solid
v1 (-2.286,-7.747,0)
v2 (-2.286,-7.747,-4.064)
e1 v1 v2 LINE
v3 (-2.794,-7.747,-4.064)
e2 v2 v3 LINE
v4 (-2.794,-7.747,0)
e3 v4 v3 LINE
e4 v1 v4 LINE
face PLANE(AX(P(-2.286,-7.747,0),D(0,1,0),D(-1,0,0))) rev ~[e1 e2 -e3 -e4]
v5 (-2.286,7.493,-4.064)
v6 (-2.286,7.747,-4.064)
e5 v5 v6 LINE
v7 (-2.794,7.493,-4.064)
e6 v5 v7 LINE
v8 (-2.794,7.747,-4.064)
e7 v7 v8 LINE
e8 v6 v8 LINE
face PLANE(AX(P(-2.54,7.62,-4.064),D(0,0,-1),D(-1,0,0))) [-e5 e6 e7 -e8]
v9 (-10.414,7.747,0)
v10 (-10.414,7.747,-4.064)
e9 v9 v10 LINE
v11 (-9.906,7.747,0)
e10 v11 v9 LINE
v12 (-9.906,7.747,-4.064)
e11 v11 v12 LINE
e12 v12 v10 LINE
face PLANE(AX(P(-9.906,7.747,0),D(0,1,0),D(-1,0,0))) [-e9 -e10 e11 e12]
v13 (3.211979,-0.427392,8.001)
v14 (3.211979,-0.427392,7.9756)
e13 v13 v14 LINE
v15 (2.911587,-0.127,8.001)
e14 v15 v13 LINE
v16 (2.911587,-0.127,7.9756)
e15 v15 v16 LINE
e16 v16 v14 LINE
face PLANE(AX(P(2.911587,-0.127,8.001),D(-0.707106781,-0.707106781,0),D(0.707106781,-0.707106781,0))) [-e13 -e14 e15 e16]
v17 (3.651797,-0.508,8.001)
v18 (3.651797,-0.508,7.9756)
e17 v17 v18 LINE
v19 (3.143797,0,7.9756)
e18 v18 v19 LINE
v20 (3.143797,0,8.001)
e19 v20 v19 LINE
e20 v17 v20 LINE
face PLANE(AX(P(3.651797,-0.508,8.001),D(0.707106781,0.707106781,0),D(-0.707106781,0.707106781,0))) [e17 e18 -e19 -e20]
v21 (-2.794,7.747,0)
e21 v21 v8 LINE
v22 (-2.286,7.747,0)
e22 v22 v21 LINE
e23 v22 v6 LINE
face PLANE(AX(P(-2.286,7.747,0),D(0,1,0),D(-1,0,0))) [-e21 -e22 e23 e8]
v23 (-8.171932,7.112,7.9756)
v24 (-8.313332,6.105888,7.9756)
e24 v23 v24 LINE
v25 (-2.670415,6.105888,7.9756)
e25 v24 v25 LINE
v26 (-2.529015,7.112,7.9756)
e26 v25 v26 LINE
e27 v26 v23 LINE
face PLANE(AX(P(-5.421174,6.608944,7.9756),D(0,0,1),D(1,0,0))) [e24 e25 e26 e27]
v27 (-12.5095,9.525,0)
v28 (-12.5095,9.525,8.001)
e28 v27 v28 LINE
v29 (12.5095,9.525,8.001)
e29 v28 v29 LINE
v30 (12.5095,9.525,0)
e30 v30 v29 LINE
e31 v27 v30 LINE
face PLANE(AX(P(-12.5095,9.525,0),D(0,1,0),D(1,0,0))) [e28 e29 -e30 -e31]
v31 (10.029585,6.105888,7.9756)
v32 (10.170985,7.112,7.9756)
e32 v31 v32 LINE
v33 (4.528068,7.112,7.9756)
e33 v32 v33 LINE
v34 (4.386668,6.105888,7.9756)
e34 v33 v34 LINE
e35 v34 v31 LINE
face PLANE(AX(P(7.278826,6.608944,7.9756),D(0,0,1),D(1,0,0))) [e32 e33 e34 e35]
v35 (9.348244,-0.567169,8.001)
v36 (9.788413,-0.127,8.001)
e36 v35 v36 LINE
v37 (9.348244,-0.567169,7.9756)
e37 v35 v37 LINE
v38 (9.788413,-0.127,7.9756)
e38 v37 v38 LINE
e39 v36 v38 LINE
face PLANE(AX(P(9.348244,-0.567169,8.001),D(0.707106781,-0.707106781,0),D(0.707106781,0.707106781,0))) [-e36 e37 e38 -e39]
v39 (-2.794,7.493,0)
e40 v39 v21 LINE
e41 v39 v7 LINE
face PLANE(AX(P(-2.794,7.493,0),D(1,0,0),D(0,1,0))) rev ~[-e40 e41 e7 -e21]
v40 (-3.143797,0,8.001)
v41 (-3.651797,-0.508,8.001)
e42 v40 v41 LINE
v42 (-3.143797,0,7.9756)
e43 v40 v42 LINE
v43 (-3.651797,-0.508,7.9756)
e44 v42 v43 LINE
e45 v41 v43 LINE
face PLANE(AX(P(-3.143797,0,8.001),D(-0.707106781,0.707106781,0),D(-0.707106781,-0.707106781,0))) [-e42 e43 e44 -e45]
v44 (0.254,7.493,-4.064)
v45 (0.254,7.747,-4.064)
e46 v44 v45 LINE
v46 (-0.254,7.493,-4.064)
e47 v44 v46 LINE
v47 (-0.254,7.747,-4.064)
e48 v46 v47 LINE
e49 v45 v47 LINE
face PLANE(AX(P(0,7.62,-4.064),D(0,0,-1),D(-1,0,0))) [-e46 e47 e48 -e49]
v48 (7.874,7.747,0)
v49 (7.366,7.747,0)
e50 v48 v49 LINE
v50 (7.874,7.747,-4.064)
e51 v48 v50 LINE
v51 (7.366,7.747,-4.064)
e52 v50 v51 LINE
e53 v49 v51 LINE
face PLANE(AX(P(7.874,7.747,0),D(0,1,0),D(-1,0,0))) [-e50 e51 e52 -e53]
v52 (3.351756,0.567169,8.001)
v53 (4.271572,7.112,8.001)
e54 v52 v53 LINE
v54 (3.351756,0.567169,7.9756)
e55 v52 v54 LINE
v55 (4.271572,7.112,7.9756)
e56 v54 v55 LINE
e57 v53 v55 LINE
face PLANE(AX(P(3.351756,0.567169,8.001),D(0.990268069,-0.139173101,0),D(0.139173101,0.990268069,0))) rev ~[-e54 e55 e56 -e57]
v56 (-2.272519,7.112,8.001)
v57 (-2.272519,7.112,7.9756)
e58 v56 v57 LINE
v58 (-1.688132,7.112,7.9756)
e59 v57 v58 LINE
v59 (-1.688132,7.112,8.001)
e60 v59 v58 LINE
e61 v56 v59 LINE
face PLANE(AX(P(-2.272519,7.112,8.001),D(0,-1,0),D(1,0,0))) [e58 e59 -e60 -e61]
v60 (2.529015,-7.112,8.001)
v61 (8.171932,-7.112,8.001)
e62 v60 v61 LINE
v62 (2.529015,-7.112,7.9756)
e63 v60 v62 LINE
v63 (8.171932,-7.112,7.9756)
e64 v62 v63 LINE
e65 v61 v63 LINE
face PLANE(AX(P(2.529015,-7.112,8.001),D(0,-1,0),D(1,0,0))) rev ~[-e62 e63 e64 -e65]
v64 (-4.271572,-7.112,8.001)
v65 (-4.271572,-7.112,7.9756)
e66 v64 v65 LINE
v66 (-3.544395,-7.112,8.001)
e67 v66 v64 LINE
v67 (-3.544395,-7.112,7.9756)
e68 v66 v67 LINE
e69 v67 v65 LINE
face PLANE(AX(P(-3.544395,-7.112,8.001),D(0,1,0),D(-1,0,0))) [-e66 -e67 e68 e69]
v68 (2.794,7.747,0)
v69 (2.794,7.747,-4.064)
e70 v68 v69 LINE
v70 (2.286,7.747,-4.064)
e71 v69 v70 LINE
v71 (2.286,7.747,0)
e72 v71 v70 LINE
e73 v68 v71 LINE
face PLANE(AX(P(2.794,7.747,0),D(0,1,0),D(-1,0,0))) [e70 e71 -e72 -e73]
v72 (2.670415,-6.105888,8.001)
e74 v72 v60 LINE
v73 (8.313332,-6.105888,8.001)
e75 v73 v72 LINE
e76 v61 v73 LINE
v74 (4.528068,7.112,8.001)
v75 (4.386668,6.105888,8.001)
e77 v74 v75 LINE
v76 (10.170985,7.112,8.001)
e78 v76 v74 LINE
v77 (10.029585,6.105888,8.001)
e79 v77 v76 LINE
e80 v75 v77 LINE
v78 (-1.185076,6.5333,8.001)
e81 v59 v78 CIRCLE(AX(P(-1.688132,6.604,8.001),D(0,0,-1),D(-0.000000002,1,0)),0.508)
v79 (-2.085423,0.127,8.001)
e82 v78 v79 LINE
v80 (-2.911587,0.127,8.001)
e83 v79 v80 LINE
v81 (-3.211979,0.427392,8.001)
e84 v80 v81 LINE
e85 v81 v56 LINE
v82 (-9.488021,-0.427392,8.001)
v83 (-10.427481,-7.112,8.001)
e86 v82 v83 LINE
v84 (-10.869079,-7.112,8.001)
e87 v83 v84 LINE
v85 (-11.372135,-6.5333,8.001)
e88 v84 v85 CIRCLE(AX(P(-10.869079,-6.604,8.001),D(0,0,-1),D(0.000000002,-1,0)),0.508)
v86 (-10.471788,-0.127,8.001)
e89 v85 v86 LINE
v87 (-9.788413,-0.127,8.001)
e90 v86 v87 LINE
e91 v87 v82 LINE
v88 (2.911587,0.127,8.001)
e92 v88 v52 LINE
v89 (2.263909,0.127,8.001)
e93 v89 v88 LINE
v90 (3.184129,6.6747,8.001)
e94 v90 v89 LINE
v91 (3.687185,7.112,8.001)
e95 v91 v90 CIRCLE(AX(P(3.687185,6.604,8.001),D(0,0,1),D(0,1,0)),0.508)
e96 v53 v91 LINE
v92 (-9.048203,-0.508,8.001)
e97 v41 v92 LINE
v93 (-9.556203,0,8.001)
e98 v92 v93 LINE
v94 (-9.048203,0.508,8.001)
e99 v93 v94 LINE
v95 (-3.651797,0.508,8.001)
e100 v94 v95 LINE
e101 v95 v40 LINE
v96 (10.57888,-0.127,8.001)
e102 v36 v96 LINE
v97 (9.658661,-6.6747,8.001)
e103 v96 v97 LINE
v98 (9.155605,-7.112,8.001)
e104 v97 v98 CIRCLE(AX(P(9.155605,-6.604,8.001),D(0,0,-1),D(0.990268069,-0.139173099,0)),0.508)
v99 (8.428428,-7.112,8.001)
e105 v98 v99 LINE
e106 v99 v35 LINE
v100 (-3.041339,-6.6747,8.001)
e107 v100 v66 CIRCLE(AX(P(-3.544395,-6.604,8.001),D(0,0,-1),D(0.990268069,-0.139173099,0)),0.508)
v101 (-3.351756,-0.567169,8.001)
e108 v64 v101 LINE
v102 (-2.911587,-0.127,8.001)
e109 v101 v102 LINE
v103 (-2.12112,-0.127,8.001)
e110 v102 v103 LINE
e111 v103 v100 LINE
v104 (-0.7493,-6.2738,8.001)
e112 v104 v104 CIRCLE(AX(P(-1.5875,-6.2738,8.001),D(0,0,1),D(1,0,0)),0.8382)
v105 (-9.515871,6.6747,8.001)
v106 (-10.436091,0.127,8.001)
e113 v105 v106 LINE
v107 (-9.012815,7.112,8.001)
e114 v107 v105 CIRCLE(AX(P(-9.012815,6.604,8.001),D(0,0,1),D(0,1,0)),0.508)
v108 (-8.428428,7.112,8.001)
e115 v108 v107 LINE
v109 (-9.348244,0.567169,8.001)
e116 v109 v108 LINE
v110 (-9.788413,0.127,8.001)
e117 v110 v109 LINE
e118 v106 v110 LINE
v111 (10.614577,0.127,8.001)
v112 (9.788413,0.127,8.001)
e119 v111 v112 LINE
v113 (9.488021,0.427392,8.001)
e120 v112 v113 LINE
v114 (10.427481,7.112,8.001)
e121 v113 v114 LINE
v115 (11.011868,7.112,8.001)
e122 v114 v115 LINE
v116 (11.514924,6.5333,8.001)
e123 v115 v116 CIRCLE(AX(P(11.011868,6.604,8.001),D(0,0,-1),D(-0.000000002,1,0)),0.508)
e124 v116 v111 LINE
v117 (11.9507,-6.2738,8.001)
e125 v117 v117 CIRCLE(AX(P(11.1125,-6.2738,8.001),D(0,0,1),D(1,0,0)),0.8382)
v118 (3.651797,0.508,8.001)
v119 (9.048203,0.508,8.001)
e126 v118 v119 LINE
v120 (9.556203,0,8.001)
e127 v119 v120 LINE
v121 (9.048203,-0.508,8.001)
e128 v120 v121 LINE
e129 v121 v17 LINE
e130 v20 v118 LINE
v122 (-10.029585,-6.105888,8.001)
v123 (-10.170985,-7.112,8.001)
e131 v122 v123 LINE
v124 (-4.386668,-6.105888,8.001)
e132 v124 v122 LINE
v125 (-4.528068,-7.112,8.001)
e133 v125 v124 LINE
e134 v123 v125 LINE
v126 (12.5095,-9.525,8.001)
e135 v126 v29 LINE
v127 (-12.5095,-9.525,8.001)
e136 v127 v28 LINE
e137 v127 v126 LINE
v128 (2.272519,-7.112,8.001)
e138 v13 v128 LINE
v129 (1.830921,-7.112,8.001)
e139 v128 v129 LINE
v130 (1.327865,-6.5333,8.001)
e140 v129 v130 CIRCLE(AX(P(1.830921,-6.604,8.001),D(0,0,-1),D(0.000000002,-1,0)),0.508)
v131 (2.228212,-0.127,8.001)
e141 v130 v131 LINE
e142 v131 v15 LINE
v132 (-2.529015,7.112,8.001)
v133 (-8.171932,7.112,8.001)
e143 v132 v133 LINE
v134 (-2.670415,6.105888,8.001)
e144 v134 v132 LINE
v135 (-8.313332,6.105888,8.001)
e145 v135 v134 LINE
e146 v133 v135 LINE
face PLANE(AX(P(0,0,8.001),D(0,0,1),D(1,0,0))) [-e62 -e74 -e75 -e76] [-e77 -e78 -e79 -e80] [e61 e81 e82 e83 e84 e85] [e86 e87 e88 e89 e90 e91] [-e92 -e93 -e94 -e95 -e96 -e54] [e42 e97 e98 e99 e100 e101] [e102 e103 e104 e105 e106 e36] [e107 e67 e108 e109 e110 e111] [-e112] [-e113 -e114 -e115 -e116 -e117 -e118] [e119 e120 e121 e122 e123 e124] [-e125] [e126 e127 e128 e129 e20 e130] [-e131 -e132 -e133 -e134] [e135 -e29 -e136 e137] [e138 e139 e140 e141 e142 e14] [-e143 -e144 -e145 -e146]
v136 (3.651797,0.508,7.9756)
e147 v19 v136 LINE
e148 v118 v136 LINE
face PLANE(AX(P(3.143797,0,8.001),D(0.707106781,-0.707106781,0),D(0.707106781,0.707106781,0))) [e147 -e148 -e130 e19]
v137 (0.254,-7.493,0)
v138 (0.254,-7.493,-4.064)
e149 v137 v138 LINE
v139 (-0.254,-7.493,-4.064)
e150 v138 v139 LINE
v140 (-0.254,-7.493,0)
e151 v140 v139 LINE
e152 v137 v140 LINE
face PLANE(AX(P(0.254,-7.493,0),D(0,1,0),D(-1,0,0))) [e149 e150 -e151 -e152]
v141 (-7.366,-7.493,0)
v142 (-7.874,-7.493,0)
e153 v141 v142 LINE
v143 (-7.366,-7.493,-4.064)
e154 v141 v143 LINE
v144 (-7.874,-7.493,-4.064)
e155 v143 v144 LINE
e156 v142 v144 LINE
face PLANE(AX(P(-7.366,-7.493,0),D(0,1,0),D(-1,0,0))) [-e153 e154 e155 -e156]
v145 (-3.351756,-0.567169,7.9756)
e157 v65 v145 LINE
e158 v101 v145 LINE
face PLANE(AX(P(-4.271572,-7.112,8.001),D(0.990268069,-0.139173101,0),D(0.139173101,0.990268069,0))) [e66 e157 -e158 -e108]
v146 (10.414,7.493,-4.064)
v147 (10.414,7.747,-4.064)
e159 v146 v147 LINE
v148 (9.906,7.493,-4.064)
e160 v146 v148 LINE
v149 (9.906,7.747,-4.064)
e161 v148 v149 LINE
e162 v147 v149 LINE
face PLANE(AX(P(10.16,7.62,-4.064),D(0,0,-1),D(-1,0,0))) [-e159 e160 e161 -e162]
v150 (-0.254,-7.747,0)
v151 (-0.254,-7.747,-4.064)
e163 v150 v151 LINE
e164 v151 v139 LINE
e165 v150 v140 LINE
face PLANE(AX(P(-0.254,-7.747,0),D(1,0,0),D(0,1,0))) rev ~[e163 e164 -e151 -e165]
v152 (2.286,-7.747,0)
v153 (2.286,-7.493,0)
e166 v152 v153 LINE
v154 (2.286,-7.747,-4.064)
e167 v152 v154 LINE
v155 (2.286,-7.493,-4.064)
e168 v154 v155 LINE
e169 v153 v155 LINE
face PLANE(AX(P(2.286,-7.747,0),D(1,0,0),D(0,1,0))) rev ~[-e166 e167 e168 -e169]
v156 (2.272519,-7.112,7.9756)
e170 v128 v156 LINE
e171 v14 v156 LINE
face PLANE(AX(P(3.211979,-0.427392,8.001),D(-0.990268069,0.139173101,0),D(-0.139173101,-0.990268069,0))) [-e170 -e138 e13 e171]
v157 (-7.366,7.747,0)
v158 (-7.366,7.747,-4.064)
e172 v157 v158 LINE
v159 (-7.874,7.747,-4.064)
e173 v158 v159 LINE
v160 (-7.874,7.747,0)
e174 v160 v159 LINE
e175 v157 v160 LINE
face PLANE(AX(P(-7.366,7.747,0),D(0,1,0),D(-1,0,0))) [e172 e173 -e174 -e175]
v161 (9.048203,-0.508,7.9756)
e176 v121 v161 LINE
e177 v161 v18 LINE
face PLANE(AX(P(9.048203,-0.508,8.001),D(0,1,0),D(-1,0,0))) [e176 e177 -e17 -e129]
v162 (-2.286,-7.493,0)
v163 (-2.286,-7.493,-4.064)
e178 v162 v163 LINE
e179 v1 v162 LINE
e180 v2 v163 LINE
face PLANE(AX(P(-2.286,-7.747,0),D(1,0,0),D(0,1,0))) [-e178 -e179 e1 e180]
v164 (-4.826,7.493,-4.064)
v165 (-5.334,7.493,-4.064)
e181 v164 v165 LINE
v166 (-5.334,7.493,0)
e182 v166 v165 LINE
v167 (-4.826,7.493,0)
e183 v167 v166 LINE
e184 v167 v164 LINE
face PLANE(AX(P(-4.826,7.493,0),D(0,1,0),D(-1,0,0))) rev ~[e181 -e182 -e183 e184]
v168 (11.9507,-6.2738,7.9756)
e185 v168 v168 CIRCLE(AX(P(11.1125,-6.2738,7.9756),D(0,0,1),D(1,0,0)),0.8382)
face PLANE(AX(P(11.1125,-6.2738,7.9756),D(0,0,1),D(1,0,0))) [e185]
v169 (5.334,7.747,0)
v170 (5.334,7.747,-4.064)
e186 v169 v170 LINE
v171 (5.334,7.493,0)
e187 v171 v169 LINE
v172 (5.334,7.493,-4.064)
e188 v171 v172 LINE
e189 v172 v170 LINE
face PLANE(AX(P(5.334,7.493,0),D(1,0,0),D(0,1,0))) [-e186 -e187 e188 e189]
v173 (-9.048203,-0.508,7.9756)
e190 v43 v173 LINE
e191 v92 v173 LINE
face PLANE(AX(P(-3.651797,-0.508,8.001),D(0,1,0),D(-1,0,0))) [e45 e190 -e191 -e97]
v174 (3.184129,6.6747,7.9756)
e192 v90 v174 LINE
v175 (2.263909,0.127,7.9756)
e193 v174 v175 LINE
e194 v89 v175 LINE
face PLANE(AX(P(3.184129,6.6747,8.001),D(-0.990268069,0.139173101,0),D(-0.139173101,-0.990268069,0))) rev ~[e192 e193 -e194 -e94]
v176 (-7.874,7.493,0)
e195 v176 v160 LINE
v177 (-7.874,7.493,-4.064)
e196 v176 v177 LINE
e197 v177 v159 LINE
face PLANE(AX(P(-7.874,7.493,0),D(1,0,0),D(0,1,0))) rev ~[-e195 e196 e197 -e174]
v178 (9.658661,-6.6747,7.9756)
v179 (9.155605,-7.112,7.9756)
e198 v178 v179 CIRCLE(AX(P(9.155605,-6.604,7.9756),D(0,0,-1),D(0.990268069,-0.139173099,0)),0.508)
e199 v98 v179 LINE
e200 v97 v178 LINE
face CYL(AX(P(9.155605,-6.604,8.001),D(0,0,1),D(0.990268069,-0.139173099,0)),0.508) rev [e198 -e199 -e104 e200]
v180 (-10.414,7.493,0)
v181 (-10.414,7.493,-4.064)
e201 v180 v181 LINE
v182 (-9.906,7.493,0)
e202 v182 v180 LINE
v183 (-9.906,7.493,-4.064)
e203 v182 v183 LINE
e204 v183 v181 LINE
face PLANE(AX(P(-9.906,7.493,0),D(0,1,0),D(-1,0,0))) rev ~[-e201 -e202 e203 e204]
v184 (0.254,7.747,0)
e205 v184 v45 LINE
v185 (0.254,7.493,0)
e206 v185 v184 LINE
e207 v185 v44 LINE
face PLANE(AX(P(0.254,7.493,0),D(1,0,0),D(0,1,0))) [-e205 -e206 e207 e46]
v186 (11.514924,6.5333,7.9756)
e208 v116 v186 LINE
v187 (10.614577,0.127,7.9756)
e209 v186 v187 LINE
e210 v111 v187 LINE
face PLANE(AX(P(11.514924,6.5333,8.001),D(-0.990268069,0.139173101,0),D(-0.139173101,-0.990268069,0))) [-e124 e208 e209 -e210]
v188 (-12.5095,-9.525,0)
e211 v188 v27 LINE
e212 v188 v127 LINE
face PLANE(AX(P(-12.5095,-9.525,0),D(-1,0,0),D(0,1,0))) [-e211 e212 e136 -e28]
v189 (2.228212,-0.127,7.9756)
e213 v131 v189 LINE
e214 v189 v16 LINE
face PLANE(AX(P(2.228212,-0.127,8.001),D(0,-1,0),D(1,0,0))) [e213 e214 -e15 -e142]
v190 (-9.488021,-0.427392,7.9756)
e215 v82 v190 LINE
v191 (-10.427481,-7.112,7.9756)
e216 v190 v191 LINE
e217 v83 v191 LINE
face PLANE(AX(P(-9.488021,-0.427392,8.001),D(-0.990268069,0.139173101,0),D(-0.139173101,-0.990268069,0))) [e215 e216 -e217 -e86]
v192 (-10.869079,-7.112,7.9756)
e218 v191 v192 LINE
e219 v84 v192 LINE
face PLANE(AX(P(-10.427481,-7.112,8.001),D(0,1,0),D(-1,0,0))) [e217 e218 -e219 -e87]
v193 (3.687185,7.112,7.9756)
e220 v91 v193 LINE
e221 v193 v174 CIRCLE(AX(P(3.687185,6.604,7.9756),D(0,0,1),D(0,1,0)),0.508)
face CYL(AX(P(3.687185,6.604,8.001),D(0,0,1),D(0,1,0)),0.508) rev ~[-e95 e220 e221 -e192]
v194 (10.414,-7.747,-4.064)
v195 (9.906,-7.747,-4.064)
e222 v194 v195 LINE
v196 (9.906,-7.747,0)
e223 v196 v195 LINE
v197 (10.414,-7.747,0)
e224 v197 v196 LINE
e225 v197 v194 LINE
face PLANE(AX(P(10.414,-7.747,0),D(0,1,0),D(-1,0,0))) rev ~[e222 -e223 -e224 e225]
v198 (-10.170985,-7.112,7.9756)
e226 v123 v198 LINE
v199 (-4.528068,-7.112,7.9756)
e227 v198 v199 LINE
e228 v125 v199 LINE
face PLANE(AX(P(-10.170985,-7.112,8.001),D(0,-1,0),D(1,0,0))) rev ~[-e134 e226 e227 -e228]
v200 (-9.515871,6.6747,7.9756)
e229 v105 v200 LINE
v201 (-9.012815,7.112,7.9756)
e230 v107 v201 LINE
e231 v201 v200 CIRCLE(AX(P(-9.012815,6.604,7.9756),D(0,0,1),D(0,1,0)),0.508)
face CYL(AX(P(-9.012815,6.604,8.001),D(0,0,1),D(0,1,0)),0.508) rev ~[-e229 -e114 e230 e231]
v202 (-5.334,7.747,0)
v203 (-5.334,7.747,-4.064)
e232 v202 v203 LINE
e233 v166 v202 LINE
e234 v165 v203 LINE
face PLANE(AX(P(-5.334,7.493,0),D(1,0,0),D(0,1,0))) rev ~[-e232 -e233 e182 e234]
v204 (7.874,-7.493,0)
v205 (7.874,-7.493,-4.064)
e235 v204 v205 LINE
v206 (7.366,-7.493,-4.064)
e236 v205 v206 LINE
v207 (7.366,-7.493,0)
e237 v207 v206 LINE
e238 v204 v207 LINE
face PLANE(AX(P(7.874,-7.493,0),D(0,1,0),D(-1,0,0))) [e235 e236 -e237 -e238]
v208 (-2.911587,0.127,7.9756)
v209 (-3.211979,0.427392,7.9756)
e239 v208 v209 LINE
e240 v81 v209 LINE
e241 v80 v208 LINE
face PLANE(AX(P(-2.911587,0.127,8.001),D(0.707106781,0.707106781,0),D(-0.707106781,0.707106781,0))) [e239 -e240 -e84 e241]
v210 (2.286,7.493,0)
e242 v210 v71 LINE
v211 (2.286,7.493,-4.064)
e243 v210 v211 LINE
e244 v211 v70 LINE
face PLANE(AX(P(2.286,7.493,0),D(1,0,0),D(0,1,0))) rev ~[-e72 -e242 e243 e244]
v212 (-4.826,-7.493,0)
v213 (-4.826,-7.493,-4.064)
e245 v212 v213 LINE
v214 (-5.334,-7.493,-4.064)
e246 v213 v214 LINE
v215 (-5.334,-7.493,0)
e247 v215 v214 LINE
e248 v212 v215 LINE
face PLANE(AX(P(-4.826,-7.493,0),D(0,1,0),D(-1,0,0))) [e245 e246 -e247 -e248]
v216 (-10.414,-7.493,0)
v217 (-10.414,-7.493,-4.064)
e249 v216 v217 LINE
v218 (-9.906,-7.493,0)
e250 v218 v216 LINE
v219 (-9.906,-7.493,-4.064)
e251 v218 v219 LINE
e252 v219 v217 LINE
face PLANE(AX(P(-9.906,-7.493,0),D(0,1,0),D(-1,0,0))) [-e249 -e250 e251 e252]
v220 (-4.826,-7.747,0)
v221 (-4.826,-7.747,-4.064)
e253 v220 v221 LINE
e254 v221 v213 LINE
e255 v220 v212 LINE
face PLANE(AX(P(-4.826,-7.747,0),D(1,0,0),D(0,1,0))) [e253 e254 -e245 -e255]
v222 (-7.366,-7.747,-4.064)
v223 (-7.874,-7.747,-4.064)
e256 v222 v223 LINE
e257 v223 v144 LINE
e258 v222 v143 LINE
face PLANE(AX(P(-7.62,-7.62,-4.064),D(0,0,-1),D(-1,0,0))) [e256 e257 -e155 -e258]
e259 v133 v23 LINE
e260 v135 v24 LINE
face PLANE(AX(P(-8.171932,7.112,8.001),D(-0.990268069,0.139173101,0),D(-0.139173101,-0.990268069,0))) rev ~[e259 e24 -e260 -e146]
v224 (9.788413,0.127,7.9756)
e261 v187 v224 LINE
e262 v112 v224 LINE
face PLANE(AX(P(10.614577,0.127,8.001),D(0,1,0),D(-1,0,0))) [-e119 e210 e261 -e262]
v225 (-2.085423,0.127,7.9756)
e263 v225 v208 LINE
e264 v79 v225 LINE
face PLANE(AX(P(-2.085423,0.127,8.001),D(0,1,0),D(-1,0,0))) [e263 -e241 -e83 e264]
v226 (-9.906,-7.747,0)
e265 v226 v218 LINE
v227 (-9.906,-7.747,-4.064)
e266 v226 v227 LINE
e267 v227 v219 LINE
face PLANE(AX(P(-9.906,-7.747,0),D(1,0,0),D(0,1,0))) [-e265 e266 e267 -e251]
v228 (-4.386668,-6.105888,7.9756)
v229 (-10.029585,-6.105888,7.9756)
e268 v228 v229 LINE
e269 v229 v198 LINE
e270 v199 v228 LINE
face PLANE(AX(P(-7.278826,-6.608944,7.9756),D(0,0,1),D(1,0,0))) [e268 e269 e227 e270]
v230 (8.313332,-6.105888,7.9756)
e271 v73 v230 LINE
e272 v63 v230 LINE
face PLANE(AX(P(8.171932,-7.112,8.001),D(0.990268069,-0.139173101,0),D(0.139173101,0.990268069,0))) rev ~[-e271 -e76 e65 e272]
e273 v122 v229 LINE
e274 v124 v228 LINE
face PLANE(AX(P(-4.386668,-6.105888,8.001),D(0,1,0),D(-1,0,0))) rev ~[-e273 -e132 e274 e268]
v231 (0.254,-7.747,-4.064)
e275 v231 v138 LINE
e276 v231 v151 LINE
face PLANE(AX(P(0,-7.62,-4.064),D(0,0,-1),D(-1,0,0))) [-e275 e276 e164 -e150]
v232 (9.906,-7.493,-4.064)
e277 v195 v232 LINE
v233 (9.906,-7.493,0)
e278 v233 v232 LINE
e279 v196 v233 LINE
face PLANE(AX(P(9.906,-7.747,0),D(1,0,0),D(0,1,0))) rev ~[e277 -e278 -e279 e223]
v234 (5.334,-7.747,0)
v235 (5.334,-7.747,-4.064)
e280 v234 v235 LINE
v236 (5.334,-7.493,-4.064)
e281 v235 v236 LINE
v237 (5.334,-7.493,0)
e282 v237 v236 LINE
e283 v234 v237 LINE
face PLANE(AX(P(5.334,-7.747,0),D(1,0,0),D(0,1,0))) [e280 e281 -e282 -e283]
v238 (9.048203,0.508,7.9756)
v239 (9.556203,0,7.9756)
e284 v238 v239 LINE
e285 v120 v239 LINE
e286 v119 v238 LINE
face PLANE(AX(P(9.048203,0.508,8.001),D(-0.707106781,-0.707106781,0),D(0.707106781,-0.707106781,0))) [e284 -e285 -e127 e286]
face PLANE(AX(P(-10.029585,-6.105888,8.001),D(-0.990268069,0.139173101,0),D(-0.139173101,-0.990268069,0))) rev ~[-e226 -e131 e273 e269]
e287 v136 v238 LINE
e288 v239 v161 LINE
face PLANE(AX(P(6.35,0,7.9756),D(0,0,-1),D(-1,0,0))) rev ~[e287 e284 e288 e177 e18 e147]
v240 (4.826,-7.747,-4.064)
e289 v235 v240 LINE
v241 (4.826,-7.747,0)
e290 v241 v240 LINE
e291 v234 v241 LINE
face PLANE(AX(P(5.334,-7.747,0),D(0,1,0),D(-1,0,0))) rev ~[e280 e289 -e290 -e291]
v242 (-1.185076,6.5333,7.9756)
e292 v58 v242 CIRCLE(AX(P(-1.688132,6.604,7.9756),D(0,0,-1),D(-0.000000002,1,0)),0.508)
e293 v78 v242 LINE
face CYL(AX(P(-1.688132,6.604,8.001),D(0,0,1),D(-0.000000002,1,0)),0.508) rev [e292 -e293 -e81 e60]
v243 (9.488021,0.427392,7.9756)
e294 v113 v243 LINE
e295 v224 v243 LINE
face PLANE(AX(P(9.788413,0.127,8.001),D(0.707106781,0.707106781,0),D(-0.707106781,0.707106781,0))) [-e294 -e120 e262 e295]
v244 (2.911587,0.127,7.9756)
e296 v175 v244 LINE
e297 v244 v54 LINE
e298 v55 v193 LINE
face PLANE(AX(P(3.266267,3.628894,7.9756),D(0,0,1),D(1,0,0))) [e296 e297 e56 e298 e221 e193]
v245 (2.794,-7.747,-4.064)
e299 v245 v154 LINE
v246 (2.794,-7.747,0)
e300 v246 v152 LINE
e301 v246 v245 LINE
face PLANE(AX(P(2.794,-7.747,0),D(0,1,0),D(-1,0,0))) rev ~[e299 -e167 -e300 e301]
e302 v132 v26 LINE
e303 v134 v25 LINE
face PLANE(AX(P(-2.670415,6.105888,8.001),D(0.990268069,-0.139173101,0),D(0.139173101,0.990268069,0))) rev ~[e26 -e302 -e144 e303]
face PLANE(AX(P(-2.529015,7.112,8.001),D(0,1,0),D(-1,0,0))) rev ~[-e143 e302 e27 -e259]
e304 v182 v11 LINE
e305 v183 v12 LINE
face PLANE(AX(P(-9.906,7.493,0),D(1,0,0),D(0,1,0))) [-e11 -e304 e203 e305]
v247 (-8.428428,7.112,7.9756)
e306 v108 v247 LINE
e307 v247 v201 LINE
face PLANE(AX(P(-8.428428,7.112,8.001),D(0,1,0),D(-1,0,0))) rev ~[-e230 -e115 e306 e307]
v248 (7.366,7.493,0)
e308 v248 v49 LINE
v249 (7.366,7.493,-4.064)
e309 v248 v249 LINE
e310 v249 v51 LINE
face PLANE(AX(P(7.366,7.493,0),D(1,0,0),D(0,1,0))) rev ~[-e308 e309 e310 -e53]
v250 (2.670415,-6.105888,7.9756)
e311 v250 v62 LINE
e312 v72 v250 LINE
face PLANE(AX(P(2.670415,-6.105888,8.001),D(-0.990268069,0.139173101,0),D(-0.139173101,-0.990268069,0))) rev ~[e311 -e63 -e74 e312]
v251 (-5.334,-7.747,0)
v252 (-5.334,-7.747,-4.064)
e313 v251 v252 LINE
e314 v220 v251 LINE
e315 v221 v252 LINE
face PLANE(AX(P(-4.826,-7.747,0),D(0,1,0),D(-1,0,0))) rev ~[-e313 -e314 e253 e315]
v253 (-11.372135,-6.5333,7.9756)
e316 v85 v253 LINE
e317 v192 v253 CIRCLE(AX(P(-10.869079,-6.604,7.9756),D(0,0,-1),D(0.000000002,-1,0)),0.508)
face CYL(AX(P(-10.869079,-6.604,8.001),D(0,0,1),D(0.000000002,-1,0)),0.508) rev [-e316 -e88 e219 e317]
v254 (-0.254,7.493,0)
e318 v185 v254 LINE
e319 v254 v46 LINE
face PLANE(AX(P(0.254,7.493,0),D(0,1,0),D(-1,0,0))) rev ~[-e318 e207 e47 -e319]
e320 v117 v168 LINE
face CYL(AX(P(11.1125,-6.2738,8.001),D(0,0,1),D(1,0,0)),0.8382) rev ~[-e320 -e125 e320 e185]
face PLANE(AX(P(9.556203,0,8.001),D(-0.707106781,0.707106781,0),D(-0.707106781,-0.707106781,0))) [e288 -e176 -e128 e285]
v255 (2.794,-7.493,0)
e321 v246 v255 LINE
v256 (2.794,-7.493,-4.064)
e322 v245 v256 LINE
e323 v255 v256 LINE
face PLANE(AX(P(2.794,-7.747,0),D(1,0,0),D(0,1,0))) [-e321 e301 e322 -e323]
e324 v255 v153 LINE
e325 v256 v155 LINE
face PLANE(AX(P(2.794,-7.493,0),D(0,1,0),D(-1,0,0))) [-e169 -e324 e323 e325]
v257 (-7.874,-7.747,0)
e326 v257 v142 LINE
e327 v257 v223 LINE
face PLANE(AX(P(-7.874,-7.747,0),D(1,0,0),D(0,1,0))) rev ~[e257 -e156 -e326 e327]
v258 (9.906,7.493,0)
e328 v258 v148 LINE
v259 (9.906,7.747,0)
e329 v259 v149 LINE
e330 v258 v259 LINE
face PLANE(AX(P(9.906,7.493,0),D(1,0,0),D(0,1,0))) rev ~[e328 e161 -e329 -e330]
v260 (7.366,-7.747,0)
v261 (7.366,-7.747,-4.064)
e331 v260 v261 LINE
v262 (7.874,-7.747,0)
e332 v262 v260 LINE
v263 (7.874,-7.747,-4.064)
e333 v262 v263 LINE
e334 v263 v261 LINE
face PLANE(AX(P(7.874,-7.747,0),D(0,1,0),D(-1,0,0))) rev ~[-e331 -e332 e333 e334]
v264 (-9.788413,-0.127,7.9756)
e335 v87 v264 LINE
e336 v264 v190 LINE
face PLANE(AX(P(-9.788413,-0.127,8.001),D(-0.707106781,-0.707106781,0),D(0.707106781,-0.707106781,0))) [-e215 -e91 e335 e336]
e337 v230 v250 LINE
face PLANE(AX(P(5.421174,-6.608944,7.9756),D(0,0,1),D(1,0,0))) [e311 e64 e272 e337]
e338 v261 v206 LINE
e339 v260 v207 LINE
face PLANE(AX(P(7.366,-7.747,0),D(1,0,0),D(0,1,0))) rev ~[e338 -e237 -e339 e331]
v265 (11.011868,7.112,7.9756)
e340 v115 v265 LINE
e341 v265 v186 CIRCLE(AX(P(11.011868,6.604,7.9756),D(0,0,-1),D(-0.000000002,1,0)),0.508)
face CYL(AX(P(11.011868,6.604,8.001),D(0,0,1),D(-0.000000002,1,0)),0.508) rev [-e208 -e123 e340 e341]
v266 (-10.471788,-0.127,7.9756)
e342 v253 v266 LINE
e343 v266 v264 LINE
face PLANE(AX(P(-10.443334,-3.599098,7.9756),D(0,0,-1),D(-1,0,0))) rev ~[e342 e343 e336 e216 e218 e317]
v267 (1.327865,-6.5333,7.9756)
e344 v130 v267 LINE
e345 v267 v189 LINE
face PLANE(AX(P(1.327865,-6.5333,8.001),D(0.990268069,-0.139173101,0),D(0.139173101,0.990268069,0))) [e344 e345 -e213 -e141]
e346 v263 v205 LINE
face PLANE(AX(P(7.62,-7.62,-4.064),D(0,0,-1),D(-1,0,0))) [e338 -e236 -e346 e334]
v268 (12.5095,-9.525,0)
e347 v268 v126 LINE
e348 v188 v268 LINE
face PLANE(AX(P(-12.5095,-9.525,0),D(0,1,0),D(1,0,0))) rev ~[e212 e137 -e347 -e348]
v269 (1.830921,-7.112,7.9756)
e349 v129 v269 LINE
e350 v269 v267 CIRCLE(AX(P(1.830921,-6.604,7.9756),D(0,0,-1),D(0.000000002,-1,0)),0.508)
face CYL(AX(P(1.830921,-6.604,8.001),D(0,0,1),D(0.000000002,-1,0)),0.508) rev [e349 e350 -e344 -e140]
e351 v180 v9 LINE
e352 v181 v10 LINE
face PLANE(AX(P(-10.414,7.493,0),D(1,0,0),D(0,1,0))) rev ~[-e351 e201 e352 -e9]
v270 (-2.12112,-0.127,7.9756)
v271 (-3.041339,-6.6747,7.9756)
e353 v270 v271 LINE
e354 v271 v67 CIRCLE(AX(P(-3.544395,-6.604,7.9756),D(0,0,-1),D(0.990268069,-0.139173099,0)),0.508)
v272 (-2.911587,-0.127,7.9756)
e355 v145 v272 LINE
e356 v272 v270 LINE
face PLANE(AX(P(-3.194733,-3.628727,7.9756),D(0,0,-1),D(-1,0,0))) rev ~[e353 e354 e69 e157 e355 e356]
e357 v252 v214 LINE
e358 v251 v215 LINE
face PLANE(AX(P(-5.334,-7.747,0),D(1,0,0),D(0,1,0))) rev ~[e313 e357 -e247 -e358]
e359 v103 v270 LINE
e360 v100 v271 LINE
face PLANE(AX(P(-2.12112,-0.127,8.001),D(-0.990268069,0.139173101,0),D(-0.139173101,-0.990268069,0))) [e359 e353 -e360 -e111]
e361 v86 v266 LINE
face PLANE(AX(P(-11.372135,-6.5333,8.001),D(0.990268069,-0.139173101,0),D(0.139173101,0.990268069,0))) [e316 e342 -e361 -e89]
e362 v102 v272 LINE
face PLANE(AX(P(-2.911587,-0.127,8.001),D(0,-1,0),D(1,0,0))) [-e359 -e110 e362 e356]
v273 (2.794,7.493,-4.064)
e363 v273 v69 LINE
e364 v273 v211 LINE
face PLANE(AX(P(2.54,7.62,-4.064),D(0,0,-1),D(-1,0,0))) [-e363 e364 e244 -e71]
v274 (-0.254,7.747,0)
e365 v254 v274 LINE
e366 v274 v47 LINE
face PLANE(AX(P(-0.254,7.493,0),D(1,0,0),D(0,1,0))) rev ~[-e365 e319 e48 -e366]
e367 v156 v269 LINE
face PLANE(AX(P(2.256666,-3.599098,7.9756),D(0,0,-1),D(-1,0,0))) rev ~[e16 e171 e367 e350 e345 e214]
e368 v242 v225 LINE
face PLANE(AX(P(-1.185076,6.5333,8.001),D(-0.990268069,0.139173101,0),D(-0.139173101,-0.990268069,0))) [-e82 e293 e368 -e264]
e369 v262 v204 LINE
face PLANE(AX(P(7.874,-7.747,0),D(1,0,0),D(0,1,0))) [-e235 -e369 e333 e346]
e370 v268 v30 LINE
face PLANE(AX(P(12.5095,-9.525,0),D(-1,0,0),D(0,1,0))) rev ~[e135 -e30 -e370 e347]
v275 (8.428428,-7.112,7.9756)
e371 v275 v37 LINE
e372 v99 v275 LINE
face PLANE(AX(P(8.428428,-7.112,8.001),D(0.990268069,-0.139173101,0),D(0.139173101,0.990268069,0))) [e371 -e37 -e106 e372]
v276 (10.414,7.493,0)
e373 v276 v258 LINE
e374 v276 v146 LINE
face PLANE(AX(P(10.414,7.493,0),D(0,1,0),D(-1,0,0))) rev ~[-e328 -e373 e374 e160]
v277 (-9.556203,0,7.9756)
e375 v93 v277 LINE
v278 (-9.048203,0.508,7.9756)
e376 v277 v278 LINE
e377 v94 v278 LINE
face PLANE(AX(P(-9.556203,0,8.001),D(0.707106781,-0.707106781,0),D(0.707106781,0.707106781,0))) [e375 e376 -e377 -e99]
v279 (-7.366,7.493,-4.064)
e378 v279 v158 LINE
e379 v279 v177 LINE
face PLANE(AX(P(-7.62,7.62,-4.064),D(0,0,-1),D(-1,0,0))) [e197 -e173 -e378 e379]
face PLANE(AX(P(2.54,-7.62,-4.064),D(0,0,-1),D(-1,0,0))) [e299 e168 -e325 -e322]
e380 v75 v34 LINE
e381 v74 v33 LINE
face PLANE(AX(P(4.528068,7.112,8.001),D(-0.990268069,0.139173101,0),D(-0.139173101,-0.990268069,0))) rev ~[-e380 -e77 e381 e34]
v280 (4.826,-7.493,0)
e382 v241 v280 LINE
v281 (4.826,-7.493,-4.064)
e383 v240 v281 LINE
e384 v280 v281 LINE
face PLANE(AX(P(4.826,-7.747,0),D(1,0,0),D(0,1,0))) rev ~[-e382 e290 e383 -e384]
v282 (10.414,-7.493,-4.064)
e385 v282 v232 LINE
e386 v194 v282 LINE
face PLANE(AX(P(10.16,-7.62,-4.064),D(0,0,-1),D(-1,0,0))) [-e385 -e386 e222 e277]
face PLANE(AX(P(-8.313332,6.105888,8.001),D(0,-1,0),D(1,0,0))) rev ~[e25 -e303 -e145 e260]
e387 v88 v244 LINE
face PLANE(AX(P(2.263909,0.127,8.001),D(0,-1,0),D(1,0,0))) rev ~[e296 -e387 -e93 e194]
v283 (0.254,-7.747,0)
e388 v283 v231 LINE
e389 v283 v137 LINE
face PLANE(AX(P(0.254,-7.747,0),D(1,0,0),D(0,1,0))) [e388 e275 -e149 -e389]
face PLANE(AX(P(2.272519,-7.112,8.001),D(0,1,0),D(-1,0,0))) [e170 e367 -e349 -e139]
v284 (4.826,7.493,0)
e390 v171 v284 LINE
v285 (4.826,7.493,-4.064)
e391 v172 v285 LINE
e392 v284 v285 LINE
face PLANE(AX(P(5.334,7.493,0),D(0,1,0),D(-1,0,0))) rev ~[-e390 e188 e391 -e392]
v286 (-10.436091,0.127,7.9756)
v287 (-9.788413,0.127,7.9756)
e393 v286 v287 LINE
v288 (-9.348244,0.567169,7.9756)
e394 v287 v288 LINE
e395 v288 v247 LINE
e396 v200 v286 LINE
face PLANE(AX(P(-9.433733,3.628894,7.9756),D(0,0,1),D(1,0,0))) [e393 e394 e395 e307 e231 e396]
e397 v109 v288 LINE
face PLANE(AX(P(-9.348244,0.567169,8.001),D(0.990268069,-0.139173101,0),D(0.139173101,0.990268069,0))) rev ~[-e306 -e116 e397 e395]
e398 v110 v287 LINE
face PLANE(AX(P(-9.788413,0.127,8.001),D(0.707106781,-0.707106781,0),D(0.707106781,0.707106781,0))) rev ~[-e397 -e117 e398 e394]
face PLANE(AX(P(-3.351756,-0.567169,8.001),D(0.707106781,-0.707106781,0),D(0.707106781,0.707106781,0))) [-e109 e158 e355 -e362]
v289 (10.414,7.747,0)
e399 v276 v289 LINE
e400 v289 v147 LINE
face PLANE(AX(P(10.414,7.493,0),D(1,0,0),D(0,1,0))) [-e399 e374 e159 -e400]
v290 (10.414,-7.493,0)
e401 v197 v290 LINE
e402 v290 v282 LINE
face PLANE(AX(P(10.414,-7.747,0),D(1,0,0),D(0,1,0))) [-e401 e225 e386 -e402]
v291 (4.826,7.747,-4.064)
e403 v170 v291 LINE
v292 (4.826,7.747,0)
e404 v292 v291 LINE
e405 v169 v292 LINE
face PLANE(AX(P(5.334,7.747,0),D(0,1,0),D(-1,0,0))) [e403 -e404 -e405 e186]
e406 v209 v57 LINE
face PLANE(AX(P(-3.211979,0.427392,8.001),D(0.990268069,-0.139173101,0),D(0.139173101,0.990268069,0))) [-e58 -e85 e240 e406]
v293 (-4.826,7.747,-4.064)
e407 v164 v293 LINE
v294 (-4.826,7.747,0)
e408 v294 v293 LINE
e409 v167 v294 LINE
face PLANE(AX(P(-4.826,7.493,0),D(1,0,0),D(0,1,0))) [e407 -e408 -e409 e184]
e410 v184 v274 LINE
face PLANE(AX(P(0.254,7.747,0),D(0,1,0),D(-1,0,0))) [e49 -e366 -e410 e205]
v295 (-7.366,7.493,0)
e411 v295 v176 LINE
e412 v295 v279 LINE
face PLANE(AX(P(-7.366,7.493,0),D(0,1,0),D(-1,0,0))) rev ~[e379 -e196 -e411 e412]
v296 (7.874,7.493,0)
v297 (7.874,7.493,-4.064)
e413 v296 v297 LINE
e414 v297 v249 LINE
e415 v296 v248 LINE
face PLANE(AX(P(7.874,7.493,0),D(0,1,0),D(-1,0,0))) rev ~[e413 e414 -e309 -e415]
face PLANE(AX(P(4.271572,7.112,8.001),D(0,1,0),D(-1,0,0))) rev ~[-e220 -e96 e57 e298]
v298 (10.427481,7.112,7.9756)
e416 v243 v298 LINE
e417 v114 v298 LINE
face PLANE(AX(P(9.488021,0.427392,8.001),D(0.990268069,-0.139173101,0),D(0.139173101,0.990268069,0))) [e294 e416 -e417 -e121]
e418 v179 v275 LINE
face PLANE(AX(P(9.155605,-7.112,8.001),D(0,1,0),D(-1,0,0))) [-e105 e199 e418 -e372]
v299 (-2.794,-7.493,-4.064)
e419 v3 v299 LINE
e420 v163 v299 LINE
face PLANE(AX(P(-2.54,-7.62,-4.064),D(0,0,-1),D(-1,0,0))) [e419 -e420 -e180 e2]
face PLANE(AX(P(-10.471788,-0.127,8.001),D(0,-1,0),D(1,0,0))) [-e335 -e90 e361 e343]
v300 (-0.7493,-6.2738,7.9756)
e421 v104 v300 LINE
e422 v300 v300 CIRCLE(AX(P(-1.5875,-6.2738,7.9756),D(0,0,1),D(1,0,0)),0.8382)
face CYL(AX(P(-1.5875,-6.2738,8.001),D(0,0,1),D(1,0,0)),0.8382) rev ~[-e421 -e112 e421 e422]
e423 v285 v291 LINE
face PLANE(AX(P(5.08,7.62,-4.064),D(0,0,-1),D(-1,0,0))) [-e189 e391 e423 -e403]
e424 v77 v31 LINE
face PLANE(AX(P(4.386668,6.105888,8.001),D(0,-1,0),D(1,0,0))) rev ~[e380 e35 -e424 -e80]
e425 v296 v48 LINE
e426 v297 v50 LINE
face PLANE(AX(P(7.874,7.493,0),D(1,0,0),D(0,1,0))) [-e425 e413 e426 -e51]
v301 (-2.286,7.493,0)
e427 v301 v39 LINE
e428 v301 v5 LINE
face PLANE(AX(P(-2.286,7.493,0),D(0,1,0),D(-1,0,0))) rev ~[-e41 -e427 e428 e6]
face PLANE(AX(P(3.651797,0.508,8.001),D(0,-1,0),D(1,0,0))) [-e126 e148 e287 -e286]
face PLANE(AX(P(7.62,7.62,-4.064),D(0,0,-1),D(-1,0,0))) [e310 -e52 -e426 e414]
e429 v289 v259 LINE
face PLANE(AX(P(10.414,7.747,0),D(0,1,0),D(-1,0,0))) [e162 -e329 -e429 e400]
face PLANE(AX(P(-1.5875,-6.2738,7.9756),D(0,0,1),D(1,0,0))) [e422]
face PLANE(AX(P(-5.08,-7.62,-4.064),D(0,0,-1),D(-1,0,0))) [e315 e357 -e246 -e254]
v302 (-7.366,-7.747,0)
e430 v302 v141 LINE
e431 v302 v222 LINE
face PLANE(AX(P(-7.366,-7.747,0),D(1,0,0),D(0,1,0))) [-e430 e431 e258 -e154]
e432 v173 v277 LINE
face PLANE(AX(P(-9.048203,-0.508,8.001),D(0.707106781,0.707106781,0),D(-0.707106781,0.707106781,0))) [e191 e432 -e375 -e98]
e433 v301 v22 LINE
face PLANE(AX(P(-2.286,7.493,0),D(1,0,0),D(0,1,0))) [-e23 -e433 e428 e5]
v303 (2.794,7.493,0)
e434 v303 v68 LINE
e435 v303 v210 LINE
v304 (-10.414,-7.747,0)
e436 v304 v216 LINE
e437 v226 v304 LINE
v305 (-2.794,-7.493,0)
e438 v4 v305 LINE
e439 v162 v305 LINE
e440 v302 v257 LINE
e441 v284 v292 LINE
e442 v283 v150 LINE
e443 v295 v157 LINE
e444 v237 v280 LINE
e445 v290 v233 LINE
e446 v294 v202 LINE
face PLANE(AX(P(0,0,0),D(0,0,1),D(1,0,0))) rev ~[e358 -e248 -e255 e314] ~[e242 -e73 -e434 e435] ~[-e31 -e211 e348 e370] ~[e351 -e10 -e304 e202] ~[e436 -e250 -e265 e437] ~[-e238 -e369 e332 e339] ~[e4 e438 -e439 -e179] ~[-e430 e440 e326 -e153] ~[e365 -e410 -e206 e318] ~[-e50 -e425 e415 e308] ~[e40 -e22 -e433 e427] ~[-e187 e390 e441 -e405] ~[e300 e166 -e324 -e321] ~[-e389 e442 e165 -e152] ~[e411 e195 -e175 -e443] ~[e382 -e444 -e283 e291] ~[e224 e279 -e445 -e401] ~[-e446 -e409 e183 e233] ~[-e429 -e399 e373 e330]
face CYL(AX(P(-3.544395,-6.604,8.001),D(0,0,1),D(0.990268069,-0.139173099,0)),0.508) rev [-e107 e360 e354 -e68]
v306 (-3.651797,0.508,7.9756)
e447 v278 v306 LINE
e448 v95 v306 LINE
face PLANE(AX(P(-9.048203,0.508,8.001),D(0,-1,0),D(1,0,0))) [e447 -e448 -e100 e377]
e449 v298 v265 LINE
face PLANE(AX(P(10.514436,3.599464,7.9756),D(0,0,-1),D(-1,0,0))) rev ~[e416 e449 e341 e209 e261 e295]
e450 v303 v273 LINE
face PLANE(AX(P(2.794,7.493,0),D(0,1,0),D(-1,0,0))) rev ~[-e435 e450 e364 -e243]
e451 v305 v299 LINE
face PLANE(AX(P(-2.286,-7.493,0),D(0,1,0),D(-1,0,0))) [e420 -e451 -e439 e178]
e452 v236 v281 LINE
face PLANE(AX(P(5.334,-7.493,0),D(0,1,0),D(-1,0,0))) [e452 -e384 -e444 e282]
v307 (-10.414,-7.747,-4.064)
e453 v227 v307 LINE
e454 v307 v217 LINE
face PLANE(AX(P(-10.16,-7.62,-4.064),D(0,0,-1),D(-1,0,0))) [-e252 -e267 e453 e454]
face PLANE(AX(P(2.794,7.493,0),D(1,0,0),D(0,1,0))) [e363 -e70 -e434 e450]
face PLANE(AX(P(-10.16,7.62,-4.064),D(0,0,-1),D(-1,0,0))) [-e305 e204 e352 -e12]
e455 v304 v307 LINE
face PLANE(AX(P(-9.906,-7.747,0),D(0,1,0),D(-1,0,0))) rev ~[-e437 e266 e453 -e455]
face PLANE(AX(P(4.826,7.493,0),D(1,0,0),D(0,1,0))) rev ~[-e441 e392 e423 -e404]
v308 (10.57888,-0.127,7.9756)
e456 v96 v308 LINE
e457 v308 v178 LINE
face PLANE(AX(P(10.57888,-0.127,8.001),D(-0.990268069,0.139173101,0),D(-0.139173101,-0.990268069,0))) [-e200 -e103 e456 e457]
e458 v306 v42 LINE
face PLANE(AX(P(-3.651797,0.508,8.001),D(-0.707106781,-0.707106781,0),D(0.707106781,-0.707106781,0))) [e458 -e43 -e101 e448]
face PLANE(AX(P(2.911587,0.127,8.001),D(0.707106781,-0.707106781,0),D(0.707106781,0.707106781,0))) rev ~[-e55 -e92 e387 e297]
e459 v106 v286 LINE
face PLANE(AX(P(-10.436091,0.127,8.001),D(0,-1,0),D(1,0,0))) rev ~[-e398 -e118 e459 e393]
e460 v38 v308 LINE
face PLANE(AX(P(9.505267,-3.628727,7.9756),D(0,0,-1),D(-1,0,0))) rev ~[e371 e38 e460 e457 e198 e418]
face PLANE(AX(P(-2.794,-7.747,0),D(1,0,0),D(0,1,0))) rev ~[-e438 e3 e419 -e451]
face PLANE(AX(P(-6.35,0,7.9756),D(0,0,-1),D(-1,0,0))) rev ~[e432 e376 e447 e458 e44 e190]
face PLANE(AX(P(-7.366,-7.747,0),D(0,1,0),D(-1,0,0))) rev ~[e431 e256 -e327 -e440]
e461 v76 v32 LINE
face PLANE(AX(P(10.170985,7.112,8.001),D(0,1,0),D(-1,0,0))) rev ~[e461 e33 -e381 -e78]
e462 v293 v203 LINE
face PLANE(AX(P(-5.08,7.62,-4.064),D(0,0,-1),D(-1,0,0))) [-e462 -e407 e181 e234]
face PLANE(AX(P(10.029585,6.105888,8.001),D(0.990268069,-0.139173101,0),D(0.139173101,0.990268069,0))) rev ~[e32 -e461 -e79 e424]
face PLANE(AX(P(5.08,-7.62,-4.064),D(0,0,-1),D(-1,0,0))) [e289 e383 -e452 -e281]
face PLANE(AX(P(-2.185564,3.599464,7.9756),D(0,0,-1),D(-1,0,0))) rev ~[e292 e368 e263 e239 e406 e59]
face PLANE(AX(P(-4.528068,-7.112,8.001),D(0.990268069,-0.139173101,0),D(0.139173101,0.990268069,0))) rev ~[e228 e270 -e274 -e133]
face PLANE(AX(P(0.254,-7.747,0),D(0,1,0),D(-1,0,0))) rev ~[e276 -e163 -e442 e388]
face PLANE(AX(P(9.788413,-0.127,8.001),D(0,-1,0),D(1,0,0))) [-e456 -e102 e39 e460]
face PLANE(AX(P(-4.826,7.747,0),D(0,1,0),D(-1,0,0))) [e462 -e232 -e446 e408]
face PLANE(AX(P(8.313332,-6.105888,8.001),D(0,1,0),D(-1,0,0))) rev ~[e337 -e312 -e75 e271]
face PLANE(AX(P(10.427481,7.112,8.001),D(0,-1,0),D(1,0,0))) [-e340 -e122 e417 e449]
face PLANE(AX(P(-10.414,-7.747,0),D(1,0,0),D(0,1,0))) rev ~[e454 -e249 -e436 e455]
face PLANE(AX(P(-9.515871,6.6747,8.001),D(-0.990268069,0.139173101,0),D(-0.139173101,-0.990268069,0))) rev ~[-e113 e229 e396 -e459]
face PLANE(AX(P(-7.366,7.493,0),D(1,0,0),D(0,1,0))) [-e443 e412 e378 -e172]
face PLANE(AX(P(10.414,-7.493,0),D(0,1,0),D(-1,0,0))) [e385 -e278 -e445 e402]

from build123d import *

# Parameters (mm, degrees)
SKETCH1_W            = 25.019
SKETCH1_H            = 19.05
BOSS_EXTRUDE1_DEPTH  = 8.001
SKETCH2_W            = 0.508
SKETCH2_H            = 0.254
BOSS_EXTRUDE2_DEPTH  = 4.064
LPATTERN1_COUNT      = 5
LPATTERN1_PITCH      = 2.54
LPATTERN1_COUNT_DIR2 = 2
LPATTERN1_PITCH_DIR2 = 15.24
LPATTERN2_COUNT      = 5
LPATTERN2_PITCH      = 2.54
LPATTERN2_COUNT_DIR2 = 2
LPATTERN2_PITCH_DIR2 = 15.24
SKETCH4_R            = 0.8382
CUT_EXTRUDE1_DEPTH   = 0.0254
LPATTERN3_COUNT      = 2
LPATTERN3_PITCH      = 12.7


with BuildPart() as part:
    # Sketch1 → Boss-Extrude1 (new body)
    with BuildSketch(Plane.XY):
        Rectangle(SKETCH1_W, SKETCH1_H)
    extrude(amount=BOSS_EXTRUDE1_DEPTH)

    # Sketch2 → Boss-Extrude2 (add)
    with BuildSketch(Plane(origin=(0, 0, 0), x_dir=(-1, 0, 0), z_dir=(0, 0, -1))):
        with Locations((0, 7.62)):
            Rectangle(SKETCH2_W, SKETCH2_H)
    boss_extrude2 = extrude(amount=BOSS_EXTRUDE2_DEPTH)

    # LPattern1: Boss-Extrude2 5 × 2
    with Locations(*[(-i * LPATTERN1_PITCH, -j * LPATTERN1_PITCH_DIR2, 0) for i in range(LPATTERN1_COUNT) for j in range(LPATTERN1_COUNT_DIR2) if (i, j) != (0, 0)]):
        add(boss_extrude2)

    # LPattern2: Boss-Extrude2 5 × 2
    with Locations(*[(i * LPATTERN2_PITCH, -j * LPATTERN2_PITCH_DIR2, 0) for i in range(LPATTERN2_COUNT) for j in range(LPATTERN2_COUNT_DIR2) if (i, j) != (0, 0)]):
        add(boss_extrude2)

    # Sketch4 → Cut-Extrude1 (cut)
    with BuildSketch(Plane.XY.offset(8.001)):
        with Locations((-1.5875, -6.2738)):
            Circle(SKETCH4_R)
        Polygon((-9.556202543, 0), (-9.048202543, 0.508), (-3.651797457, 0.508), (-3.143797457, 0), (-3.651797457, -0.508), (-9.048202543, -0.508), align=None)
        with BuildLine():
            Line((-9.788412788, 0.127), (-9.348244077, 0.567168711))
            Line((-9.348244077, 0.567168711), (-8.428428025, 7.112))
            Line((-8.428428025, 7.112), (-9.012815176, 7.112))
            ThreePointArc((-9.012815176, 7.112), (-9.346093162, 6.987392467), (-9.515871354, 6.674699935))
            Line((-9.515871354, 6.674699935), (-10.436090569, 0.127))
            Line((-10.436090569, 0.127), (-9.788412788, 0.127))
        make_face()
        Polygon((-5.350473584, 7.112), (-8.171931821, 7.112), (-8.313331692, 6.105887642), (-5.491873454, 6.105887642), (-2.670415217, 6.105887642), (-2.529015346, 7.112), align=None)
        with BuildLine():
            Line((-2.085422571, 0.127), (-2.911587212, 0.127))
            Line((-2.911587212, 0.127), (-3.211979491, 0.427392279))
            Line((-3.211979491, 0.427392279), (-2.272519143, 7.112))
            Line((-2.272519143, 7.112), (-1.688131992, 7.112))
            ThreePointArc((-1.688131992, 7.112), (-1.304739525, 6.937277987), (-1.185075813, 6.533300065))
            Line((-1.185075813, 6.533300065), (-2.085422571, 0.127))
        make_face()
        with BuildLine():
            Line((-3.544395336, -7.112), (-4.271571975, -7.112))
            Line((-4.271571975, -7.112), (-3.351755923, -0.567168711))
            Line((-3.351755923, -0.567168711), (-2.911587212, -0.127))
            Line((-2.911587212, -0.127), (-2.121119943, -0.127))
            Line((-2.121119943, -0.127), (-3.041339158, -6.674699935))
            ThreePointArc((-3.041339158, -6.674699935), (-3.21111735, -6.987392467), (-3.544395336, -7.112))
        make_face()
        with BuildLine():
            Line((-10.471787941, -0.127), (-9.788412788, -0.127))
            Line((-9.788412788, -0.127), (-9.488020509, -0.427392279))
            Line((-9.488020509, -0.427392279), (-10.427480857, -7.112))
            Line((-10.427480857, -7.112), (-10.86907852, -7.112))
            ThreePointArc((-10.86907852, -7.112), (-11.252470987, -6.937277987), (-11.372134699, -6.533300065))
            Line((-11.372134699, -6.533300065), (-10.471787941, -0.127))
        make_face()
        Polygon((-7.208126546, -6.105887642), (-10.029584783, -6.105887642), (-10.170984654, -7.112), (-7.349526416, -7.112), (-4.528068179, -7.112), (-4.386668308, -6.105887642), align=None)
    cut_extrude1 = extrude(amount=-CUT_EXTRUDE1_DEPTH, mode=Mode.SUBTRACT)

    # LPattern3: Cut-Extrude1 ×2
    with Locations(*[(i * LPATTERN3_PITCH, 0, 0) for i in range(1, LPATTERN3_COUNT)]):
        add(cut_extrude1, mode=Mode.SUBTRACT)


solid = part.part
